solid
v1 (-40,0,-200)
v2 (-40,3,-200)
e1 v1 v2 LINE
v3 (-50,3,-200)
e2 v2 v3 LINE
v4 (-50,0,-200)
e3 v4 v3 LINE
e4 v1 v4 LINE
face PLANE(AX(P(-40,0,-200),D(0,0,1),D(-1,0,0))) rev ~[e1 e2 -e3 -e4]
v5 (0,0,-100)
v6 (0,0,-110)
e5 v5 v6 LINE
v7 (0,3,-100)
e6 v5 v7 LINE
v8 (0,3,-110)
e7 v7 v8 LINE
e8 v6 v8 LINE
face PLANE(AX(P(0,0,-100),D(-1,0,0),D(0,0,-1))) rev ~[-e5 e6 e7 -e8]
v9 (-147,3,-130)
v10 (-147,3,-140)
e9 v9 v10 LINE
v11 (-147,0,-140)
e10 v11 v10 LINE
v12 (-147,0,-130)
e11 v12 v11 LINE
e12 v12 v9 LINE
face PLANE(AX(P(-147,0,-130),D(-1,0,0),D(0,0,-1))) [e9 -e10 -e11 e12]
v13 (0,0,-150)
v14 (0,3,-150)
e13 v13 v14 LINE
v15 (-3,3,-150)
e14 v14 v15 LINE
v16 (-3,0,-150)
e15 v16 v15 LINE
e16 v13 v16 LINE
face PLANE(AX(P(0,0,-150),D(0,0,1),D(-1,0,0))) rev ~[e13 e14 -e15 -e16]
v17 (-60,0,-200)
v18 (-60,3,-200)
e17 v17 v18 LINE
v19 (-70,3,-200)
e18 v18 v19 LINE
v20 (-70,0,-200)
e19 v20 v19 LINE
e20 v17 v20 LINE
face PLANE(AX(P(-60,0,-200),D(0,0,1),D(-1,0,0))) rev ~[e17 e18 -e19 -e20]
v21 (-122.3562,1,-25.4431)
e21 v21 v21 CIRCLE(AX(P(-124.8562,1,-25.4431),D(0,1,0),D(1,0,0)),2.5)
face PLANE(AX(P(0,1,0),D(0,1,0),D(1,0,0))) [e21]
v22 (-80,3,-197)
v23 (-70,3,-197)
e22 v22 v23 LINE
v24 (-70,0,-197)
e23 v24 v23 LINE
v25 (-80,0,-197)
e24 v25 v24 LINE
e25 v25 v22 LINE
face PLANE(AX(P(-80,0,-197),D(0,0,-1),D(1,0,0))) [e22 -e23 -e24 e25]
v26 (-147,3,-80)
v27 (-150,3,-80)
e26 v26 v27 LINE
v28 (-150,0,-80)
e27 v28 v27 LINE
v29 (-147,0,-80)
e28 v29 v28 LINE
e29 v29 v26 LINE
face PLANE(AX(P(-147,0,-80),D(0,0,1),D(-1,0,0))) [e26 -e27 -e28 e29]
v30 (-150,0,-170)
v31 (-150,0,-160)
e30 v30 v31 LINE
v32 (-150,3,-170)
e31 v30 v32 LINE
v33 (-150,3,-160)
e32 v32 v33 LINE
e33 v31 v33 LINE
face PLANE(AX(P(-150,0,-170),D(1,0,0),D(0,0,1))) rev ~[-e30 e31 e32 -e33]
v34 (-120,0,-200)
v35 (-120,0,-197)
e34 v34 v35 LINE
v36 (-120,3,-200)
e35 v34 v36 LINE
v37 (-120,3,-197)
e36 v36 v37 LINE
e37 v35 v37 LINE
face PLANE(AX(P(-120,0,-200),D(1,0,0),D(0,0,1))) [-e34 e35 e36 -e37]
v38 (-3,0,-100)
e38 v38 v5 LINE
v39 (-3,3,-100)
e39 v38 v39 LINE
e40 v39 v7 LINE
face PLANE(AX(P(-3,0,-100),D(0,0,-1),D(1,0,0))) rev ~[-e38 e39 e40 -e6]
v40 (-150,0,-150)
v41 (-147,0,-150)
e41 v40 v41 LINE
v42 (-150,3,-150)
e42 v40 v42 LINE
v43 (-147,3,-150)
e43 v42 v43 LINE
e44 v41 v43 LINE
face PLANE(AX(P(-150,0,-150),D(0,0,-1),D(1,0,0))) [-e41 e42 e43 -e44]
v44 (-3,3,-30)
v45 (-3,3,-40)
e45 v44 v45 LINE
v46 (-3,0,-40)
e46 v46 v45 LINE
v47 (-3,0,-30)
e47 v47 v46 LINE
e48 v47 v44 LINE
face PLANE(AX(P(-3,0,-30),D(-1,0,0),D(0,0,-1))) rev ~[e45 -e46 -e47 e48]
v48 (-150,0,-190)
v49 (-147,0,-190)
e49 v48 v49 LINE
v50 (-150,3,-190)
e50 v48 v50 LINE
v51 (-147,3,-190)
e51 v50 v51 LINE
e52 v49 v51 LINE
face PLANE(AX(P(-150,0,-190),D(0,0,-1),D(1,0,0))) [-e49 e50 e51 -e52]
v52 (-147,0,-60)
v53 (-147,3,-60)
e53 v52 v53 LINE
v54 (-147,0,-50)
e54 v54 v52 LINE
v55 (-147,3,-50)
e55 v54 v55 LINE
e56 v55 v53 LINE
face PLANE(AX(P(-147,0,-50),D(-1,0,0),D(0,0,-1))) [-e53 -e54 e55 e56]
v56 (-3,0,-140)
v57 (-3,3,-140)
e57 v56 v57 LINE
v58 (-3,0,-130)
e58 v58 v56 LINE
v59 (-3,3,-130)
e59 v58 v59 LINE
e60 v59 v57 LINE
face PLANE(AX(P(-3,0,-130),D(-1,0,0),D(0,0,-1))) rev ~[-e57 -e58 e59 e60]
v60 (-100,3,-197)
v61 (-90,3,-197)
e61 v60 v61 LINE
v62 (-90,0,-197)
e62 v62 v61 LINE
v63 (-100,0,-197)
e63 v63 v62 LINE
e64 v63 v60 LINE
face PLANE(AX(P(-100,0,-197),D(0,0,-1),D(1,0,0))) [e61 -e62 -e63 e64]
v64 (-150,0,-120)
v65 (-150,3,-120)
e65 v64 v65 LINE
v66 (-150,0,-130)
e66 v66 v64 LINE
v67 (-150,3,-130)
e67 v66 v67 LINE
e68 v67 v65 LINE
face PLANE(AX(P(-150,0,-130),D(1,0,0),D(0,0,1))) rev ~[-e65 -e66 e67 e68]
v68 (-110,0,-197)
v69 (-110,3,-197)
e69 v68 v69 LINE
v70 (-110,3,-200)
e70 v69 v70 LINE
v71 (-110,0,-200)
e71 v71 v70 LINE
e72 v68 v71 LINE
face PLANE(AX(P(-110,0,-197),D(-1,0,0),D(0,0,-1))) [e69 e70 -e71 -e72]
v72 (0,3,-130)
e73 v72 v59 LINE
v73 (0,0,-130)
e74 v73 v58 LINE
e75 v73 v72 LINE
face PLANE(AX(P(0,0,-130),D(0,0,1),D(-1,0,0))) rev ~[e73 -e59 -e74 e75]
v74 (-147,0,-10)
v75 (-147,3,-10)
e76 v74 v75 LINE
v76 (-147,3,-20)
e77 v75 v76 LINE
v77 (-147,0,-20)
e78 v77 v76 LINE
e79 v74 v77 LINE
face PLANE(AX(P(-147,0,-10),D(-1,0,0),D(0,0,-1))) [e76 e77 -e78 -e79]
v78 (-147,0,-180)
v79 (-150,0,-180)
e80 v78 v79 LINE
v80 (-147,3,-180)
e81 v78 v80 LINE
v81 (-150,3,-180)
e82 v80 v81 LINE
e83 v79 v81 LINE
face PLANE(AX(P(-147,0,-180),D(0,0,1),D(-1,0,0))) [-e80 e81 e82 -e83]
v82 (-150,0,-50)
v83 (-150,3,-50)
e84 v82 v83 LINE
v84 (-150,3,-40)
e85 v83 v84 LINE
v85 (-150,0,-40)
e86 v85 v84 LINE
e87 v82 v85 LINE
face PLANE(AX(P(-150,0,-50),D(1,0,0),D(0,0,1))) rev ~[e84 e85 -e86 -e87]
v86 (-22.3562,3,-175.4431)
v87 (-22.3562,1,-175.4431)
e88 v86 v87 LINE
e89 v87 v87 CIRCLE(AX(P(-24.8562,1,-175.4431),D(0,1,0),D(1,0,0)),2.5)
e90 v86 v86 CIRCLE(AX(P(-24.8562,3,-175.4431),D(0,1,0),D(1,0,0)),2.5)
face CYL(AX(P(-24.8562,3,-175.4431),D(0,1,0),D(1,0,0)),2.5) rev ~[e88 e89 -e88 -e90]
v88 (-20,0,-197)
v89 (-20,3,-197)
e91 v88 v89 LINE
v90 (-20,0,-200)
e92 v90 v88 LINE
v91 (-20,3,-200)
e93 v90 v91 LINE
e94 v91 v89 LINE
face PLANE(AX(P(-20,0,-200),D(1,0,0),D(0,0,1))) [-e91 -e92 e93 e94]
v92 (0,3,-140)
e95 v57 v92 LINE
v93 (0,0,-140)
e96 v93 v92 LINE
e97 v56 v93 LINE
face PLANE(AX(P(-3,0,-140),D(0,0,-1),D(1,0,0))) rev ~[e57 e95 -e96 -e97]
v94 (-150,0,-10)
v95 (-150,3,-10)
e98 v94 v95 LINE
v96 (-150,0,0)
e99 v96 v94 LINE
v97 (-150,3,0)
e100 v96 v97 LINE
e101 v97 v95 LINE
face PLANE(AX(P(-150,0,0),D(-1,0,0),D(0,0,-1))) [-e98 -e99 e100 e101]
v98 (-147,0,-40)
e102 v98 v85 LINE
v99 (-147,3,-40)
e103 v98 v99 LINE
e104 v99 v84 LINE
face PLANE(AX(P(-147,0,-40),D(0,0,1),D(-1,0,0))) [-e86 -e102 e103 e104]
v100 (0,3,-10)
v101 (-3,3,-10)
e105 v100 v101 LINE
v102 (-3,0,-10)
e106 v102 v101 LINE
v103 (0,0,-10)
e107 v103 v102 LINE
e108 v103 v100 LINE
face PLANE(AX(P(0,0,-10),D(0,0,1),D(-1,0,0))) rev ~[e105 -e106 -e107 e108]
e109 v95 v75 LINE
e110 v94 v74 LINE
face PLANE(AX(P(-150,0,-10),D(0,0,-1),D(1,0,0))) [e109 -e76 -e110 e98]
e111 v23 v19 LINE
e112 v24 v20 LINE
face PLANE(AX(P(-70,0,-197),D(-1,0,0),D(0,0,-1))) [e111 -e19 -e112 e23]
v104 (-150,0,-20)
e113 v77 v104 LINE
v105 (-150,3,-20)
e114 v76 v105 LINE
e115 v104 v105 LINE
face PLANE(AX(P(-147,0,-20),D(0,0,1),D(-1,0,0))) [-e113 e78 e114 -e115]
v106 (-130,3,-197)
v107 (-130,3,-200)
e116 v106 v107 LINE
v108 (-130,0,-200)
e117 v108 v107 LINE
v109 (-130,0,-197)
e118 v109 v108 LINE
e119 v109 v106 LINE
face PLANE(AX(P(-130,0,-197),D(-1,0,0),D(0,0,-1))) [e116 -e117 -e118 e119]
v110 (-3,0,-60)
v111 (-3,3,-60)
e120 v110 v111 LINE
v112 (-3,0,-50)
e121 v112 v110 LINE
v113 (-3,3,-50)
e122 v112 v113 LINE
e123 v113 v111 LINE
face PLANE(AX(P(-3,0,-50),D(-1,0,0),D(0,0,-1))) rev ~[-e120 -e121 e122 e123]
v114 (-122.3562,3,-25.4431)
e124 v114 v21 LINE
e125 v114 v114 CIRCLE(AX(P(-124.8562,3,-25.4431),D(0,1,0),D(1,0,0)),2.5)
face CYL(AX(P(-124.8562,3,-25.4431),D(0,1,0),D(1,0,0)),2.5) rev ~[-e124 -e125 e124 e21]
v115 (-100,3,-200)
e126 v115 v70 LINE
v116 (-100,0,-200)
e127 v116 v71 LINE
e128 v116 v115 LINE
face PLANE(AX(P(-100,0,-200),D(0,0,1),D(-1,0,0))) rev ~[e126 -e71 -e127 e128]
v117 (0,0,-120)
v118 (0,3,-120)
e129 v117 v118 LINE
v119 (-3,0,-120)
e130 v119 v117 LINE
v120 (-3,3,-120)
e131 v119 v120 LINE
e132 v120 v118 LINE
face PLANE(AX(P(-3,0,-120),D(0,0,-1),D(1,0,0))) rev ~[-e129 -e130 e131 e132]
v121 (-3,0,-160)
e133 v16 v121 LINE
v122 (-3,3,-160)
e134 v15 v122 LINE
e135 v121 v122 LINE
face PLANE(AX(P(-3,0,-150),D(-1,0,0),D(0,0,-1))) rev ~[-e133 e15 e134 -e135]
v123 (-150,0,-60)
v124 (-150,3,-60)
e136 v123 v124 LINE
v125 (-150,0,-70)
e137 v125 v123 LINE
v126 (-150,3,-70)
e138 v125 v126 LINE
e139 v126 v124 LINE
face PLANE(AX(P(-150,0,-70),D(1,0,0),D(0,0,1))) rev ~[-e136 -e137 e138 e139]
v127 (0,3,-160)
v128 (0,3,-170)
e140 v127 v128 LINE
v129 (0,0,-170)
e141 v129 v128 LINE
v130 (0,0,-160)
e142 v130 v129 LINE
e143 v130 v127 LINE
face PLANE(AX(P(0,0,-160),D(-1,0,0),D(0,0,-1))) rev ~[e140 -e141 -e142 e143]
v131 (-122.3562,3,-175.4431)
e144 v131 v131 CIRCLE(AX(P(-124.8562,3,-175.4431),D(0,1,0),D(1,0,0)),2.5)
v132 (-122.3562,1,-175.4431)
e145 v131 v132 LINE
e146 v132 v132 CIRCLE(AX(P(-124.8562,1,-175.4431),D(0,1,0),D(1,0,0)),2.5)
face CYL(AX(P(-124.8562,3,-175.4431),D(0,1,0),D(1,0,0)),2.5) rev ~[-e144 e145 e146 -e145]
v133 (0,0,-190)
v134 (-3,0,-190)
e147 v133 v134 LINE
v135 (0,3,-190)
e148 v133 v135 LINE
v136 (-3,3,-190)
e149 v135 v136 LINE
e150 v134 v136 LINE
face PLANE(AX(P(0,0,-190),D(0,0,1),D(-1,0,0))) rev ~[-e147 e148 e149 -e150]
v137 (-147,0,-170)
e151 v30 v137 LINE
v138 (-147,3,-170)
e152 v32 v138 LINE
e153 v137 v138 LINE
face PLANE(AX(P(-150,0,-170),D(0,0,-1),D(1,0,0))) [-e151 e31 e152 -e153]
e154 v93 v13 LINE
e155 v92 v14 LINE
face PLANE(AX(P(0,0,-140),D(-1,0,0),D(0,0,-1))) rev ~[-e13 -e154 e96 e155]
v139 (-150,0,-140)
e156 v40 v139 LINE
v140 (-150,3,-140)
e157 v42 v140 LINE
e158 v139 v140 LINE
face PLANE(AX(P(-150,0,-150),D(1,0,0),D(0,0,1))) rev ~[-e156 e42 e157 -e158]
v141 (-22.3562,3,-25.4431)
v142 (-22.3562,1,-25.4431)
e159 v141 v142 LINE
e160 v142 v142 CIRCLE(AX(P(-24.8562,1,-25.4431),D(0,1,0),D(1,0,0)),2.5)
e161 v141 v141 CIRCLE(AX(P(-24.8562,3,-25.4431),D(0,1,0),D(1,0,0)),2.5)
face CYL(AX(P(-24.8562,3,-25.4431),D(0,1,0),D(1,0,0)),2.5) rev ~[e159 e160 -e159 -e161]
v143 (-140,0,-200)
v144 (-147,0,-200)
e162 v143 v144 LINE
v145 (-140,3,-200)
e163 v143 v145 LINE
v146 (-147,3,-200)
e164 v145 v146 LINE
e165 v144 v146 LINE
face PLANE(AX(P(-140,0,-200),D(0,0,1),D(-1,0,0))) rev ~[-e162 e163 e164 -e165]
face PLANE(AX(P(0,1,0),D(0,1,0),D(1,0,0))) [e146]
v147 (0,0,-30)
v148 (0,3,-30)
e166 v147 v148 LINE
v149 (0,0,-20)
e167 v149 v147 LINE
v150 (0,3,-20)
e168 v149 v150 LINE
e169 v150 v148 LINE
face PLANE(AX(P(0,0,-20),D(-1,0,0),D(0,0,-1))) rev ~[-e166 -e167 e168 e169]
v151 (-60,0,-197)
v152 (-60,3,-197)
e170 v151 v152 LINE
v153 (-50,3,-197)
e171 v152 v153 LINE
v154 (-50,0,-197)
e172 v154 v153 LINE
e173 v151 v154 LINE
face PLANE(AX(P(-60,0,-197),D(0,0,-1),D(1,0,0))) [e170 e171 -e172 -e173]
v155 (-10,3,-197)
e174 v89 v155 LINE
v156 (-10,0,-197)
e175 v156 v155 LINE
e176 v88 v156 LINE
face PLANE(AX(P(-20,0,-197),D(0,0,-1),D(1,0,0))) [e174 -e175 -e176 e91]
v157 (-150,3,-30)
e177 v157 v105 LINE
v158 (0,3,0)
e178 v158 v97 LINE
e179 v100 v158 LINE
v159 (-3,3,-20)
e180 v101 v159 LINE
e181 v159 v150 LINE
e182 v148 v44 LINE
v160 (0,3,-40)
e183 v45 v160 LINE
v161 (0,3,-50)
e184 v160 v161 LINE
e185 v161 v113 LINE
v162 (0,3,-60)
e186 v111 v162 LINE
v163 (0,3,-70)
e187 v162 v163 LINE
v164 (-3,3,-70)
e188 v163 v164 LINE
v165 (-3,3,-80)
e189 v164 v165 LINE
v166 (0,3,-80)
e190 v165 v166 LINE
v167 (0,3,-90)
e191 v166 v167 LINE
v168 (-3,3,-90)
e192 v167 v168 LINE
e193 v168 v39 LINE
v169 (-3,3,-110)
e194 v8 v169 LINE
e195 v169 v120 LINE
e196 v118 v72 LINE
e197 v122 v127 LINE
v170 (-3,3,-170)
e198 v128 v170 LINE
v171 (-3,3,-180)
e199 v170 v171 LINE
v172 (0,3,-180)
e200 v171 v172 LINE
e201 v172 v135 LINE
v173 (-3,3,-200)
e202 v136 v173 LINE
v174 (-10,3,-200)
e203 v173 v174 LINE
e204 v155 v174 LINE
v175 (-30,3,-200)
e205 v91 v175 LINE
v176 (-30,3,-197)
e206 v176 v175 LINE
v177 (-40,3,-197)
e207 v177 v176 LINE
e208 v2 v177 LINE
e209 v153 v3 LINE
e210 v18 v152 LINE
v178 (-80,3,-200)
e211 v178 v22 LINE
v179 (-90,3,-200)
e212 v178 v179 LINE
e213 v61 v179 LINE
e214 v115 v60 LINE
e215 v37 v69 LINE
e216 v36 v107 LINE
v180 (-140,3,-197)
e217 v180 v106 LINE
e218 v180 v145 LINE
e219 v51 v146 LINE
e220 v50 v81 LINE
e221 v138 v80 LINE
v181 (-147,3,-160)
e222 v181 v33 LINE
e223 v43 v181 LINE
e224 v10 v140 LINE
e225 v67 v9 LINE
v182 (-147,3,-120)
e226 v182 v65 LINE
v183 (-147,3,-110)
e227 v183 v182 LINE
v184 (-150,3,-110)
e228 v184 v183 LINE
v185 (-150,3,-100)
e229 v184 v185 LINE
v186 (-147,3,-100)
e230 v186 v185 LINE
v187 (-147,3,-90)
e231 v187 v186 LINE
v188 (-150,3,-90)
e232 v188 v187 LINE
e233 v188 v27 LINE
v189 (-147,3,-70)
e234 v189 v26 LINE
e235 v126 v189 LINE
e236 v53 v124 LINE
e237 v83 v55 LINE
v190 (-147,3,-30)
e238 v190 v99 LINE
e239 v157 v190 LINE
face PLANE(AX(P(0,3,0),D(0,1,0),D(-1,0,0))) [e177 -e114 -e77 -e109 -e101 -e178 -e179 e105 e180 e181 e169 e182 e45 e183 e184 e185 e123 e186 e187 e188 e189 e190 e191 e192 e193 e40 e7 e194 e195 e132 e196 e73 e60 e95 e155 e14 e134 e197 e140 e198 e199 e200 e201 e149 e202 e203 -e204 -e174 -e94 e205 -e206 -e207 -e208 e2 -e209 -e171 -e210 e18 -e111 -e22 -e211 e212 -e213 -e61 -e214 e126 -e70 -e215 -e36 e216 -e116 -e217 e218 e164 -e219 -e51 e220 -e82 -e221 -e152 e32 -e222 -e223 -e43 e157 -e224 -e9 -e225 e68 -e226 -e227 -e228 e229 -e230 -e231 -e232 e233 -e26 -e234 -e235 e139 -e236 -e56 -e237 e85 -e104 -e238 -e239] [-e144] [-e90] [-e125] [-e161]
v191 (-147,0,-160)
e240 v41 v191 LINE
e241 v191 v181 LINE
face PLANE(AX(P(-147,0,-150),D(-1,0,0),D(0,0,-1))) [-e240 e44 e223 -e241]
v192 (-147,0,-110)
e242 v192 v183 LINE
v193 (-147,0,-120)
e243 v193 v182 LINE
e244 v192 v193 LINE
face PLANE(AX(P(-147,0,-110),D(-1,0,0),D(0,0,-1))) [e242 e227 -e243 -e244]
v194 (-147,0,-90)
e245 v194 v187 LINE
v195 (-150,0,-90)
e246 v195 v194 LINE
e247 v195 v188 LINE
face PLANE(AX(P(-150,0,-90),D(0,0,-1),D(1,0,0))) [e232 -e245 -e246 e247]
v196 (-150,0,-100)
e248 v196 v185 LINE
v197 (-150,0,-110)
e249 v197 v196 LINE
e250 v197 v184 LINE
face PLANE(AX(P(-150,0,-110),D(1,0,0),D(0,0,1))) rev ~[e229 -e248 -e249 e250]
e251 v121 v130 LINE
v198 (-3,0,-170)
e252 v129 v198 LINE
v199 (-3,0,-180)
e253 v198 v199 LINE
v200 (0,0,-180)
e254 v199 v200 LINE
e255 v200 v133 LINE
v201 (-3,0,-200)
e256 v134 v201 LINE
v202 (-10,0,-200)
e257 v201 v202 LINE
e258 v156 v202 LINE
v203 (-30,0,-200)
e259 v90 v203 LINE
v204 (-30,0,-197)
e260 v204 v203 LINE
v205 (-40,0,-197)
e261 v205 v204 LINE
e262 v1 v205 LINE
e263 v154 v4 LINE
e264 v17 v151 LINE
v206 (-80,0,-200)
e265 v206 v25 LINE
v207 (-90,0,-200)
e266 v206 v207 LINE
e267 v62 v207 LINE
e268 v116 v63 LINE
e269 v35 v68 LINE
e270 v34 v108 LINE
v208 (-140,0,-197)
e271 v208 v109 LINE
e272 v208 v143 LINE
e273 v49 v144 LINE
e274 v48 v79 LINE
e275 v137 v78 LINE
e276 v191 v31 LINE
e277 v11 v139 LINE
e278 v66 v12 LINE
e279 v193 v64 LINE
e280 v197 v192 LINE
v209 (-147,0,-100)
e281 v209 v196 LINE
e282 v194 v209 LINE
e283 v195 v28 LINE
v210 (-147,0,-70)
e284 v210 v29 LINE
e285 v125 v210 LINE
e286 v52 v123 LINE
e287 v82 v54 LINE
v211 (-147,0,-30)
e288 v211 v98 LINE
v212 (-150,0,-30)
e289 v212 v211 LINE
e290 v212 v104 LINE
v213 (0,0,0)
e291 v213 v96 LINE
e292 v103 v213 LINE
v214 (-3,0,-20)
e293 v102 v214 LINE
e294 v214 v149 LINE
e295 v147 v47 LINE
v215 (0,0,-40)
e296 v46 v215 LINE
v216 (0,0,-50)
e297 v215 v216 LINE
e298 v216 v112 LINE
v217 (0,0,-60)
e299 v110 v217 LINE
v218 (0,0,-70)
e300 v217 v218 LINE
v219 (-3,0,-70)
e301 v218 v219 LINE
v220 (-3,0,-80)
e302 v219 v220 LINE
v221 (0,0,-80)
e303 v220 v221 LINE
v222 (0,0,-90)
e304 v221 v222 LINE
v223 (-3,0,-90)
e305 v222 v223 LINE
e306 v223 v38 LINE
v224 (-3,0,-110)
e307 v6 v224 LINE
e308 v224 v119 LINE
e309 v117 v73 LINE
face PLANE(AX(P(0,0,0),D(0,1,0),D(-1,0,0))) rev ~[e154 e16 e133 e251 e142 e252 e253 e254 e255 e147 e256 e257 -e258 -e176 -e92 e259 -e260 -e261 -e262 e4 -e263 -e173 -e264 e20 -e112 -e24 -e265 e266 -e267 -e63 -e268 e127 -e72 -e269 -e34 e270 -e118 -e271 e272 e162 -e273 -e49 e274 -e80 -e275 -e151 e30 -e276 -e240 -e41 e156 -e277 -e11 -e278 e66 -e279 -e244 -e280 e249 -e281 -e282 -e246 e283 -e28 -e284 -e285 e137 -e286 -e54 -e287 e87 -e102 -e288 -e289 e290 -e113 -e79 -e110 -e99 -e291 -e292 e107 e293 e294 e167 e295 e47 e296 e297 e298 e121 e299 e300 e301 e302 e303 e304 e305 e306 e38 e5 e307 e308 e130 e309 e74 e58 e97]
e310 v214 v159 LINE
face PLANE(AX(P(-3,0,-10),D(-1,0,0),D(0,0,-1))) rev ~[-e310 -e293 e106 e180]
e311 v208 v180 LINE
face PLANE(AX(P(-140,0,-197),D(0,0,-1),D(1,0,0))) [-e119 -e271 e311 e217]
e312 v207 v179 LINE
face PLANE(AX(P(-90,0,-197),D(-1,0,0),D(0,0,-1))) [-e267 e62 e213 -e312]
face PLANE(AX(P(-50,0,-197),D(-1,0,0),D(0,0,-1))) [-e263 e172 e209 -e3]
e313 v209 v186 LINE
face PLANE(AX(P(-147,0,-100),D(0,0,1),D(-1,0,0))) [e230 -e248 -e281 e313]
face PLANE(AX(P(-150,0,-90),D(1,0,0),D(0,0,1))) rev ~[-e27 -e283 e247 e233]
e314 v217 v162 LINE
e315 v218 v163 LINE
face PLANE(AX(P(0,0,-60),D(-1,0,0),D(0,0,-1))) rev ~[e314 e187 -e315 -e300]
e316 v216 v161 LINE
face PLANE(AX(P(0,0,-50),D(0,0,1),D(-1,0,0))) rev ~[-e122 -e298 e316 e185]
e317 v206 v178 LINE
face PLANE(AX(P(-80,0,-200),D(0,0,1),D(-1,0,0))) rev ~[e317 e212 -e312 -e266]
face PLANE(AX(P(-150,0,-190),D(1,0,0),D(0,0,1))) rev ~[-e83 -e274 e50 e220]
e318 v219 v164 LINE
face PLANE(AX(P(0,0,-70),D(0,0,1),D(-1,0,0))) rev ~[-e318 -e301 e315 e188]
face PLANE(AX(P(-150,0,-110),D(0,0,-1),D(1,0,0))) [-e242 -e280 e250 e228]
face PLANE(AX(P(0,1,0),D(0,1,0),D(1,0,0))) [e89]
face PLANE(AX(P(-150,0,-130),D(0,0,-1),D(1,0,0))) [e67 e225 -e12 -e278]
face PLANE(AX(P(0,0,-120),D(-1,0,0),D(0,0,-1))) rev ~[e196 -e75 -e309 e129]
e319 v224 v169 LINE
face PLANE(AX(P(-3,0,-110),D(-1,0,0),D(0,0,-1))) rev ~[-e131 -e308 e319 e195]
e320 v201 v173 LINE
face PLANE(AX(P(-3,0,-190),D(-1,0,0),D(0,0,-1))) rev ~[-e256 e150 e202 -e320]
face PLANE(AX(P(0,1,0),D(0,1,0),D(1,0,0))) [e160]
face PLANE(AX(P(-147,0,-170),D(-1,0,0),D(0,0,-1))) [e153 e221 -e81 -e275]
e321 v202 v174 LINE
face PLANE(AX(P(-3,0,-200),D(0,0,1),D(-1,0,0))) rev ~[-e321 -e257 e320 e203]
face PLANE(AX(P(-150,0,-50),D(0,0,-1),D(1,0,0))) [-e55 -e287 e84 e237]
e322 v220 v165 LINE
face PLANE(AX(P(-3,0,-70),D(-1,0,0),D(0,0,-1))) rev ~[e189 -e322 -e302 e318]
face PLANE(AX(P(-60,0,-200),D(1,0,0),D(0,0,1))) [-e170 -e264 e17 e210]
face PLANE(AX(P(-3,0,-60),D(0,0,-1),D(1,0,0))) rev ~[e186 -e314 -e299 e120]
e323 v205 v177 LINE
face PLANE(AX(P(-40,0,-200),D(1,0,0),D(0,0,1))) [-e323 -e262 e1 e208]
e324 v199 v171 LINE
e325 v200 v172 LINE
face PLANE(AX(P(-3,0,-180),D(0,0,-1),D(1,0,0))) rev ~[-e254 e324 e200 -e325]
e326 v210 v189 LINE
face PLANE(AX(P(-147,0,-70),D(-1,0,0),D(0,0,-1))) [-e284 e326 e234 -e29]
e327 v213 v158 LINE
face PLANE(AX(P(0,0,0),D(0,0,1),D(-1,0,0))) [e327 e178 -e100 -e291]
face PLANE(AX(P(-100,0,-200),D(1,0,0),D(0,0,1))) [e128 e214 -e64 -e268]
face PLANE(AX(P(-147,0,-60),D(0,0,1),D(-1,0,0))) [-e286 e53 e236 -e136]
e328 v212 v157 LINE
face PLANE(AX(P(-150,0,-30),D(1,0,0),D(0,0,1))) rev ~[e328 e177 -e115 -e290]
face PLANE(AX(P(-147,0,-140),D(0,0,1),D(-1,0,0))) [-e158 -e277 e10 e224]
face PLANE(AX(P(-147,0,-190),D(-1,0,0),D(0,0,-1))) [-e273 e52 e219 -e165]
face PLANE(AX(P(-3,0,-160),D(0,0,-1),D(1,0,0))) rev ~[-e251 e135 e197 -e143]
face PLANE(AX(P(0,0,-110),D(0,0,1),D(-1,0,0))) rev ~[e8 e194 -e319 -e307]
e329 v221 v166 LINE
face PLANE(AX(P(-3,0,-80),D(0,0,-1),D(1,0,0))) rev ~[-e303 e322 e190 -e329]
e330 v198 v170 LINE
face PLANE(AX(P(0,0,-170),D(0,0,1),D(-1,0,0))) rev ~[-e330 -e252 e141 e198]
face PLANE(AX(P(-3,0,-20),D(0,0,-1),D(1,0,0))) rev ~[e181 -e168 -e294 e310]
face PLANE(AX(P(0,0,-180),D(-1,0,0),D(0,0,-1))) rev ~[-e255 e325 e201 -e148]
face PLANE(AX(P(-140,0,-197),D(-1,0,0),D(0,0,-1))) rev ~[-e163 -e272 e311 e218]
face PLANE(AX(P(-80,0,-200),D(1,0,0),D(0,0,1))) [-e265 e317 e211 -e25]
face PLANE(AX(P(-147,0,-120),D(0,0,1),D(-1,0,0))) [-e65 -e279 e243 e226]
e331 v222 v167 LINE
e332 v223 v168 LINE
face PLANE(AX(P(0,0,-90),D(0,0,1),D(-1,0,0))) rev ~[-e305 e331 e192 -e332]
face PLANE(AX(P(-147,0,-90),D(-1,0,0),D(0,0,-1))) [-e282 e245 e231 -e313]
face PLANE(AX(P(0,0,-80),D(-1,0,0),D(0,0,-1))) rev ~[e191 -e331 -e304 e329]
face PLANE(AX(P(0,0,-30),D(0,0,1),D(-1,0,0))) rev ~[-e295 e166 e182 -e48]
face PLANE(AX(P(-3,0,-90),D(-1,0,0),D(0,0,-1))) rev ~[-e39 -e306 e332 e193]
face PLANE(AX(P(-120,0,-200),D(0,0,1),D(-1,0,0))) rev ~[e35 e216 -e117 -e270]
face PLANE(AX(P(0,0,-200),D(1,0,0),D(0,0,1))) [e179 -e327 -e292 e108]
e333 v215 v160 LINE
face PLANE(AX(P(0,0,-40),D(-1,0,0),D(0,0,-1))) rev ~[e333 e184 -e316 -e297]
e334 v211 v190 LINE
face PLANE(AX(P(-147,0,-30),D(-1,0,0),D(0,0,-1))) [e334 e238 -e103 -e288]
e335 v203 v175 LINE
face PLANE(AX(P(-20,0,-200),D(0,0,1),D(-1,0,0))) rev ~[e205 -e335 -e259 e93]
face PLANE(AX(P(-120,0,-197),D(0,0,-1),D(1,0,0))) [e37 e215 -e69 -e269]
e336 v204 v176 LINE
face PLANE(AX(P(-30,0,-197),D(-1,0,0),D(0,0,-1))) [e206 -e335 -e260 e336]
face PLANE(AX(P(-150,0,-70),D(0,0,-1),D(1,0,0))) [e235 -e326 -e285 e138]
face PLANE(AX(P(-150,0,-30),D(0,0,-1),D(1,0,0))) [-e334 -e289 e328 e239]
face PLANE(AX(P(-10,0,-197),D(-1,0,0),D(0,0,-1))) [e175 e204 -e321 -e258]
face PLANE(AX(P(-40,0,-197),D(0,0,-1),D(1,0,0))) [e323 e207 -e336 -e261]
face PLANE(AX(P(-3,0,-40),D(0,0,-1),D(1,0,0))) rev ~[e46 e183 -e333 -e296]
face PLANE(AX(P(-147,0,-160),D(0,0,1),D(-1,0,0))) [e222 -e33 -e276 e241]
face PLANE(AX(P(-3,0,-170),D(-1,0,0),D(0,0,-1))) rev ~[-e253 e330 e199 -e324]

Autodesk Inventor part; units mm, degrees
ref_plane "YZ Plane" through (0, 0, 0) normal (1, 0, 0) x (0, 1, 0)
ref_plane "XZ Plane" through (0, 0, 0) normal (0, 1, 0) x (-1, 0, 0)
ref_plane "XY Plane" through (0, 0, 0) normal (0, 0, 1) x (1, 0, 0)
sketch "Sketch2" plane through (0, 0, 0) normal (0, 1, 0) x (-1, 0, 0)
  line L0 (0, 0) -> (150, 0)
  line L1 (150, 0) -> (150, -200)
  line L2 (150, -200) -> (0, -200)
  line L3 (0, -200) -> (0, 0)
  point P0 (75, -100)
  dimension "d4" = 150
  dimension "d5" = 200
extrude "Extrusion2" add sketch "Sketch2" along normal blind 3
sketch "Sketch3" plane through (0, 0, 0) normal (0, -1, 0) x (1, 0, 0)
  line L0 (-150, -200) -> (-150, 0) projected
  line L1 (-150, 0) -> (-150, -10)
  line L2 (-150, -10) -> (-147, -10)
  line L3 (-147, -10) -> (-147, -20)
  line L4 (-147, -20) -> (-150, -20)
  line L5 (-147, -30) -> (-147, -40)
  line L6 (-147, -40) -> (-150, -40)
  line L7 (-150, -30) -> (-147, -30)
  line L8 (-150, -20) -> (-150, -30)
  line L9 (-147, -50) -> (-147, -60)
  line L10 (-147, -60) -> (-150, -60)
  line L11 (-150, -50) -> (-147, -50)
  line L12 (-150, -40) -> (-150, -50)
  line L13 (-147, -70) -> (-147, -80)
  line L14 (-147, -80) -> (-150, -80)
  line L15 (-150, -70) -> (-147, -70)
  line L16 (-150, -60) -> (-150, -70)
  line L17 (-147, -90) -> (-147, -100)
  line L18 (-147, -100) -> (-150, -100)
  line L19 (-150, -90) -> (-147, -90)
  line L20 (-150, -80) -> (-150, -90)
  line L21 (-147, -110) -> (-147, -120)
  line L22 (-147, -120) -> (-150, -120)
  line L23 (-150, -110) -> (-147, -110)
  line L24 (-150, -100) -> (-150, -110)
  line L25 (-147, -130) -> (-147, -140)
  line L26 (-147, -140) -> (-150, -140)
  line L27 (-150, -130) -> (-147, -130)
  line L28 (-150, -120) -> (-150, -130)
  line L29 (-147, -150) -> (-147, -160)
  line L30 (-147, -160) -> (-150, -160)
  line L31 (-150, -150) -> (-147, -150)
  line L32 (-150, -140) -> (-150, -150)
  line L33 (-147, -170) -> (-147, -180)
  line L34 (-147, -180) -> (-150, -180)
  line L35 (-150, -170) -> (-147, -170)
  line L36 (-150, -160) -> (-150, -170)
  line L37 (-150, -180) -> (-150, -190)
  line L38 (-150, -190) -> (-147, -190)
  line L39 (0, 0) -> (0, -10)
  line L40 (0, 0) -> (0, -200) projected
  line L41 (-3, -10) -> (-3, -20)
  line L42 (-3, -20) -> (0, -20)
  line L43 (0, -20) -> (0, -30)
  line L44 (0, -30) -> (-3, -30)
  line L45 (-3, -30) -> (-3, -40)
  line L46 (-3, -40) -> (0, -40)
  line L47 (0, -40) -> (0, -50)
  line L48 (0, -50) -> (-3, -50)
  line L49 (-3, -50) -> (-3, -60)
  line L50 (-3, -60) -> (0, -60)
  line L51 (0, -60) -> (0, -70)
  line L52 (0, -70) -> (-3, -70)
  line L53 (-3, -70) -> (-3, -80)
  line L54 (-3, -80) -> (0, -80)
  line L55 (0, -80) -> (0, -90)
  line L56 (0, -90) -> (-3, -90)
  line L57 (-3, -90) -> (-3, -100)
  line L58 (-3, -100) -> (0, -100)
  line L59 (0, -100) -> (0, -110)
  line L60 (0, -110) -> (-3, -110)
  line L61 (-3, -110) -> (-3, -120)
  line L62 (-3, -120) -> (0, -120)
  line L63 (0, -120) -> (0, -130)
  line L64 (0, -130) -> (-3, -130)
  line L65 (-3, -130) -> (-3, -140)
  line L66 (-3, -140) -> (0, -140)
  line L67 (0, -140) -> (0, -150)
  line L68 (0, -150) -> (-3, -150)
  line L69 (-3, -150) -> (-3, -160)
  line L70 (-3, -160) -> (0, -160)
  line L71 (0, -160) -> (0, -170)
  line L72 (0, -170) -> (-3, -170)
  line L73 (-3, -170) -> (-3, -180)
  line L74 (-3, -180) -> (0, -180)
  line L75 (0, -180) -> (0, -190)
  line L76 (0, -190) -> (-3, -190)
  line L77 (-3, -190) -> (-3, -200)
  line L78 (0, -200) -> (-150, -200) projected
  line L79 (-147, -190) -> (-147, -200)
  line L80 (0, -10) -> (-3, -10)
  line L81 (-147, -200) -> (-140, -200)
  line L82 (-140, -197) -> (-130, -197)
  line L83 (-130, -197) -> (-130, -200)
  line L84 (-120, -200) -> (-120, -197)
  line L85 (-120, -197) -> (-110, -197)
  line L86 (-110, -197) -> (-110, -200)
  line L87 (-100, -200) -> (-100, -197)
  line L88 (-100, -197) -> (-90, -197)
  line L89 (-90, -197) -> (-90, -200)
  line L90 (-80, -200) -> (-80, -197)
  line L91 (-80, -197) -> (-70, -197)
  line L92 (-70, -197) -> (-70, -200)
  line L93 (-60, -200) -> (-60, -197)
  line L94 (-60, -197) -> (-50, -197)
  line L95 (-50, -197) -> (-50, -200)
  line L96 (-40, -200) -> (-40, -197)
  line L97 (-40, -197) -> (-30, -197)
  line L98 (-30, -197) -> (-30, -200)
  line L99 (-20, -200) -> (-20, -197)
  line L100 (-20, -197) -> (-10, -197)
  line L101 (-10, -197) -> (-10, -200)
  line L102 (-140, -197) -> (-140, -200)
  line L103 (-150, 0) -> (0, 0)
  point P0 (-10, 0)
  point P1 (-20, 0)
  dimension "d23" = 20
extrude "Extrusion3" cut sketch "Sketch3" against normal blind 3 contours L0 L34 L33 L35 L30 L29 L31 L26 L25 L27 L22 L21 L23 L18 L17 L19 L14 L13 L15 L10 L9 L11 L6 L5 L7 L4 L3 L2 L103 L39 L80 L41 L42 L40 L44 L45 L46 L48 L49 L50 L52 L53 L54 L56 L57 L58 L60 L61 L62 L64 L65 L66 L68 L69 L70 L72 L73 L74 L76 L77 L78 L101 L100 L99 L98 L97 L96 L95 L94 L93 L92 L91 L90 L89 L88 L87 L86 L85 L84 L83 L82 L102 L79 L38 keep common part
sketch "Sketch5" plane through (0, 3, 0) normal (0, 1, 0) x (1, 0, 0)
  line L0 (-150, 190) -> (-150, 0) projected
  circle A0 centre (-24.8562, 25.4431) radius 2.5
  circle A1 centre (-124.8562, 25.4431) radius 2.5
  circle A2 centre (-24.8562, 175.4431) radius 2.5
  circle A3 centre (-124.8562, 175.4431) radius 2.5
  point P0 (0, 0)
  point P1 (-150, 10)
  point P2 (0, 0)
  point P3 (-75, 100)
  dimension "d38" = 5
  dimension "d39" = 100
  dimension "d40" = 150
extrude "Extrusion4" cut sketch "Sketch5" against normal blind 2
properties part number "TableBottom" material "Wood (Cherry)"
